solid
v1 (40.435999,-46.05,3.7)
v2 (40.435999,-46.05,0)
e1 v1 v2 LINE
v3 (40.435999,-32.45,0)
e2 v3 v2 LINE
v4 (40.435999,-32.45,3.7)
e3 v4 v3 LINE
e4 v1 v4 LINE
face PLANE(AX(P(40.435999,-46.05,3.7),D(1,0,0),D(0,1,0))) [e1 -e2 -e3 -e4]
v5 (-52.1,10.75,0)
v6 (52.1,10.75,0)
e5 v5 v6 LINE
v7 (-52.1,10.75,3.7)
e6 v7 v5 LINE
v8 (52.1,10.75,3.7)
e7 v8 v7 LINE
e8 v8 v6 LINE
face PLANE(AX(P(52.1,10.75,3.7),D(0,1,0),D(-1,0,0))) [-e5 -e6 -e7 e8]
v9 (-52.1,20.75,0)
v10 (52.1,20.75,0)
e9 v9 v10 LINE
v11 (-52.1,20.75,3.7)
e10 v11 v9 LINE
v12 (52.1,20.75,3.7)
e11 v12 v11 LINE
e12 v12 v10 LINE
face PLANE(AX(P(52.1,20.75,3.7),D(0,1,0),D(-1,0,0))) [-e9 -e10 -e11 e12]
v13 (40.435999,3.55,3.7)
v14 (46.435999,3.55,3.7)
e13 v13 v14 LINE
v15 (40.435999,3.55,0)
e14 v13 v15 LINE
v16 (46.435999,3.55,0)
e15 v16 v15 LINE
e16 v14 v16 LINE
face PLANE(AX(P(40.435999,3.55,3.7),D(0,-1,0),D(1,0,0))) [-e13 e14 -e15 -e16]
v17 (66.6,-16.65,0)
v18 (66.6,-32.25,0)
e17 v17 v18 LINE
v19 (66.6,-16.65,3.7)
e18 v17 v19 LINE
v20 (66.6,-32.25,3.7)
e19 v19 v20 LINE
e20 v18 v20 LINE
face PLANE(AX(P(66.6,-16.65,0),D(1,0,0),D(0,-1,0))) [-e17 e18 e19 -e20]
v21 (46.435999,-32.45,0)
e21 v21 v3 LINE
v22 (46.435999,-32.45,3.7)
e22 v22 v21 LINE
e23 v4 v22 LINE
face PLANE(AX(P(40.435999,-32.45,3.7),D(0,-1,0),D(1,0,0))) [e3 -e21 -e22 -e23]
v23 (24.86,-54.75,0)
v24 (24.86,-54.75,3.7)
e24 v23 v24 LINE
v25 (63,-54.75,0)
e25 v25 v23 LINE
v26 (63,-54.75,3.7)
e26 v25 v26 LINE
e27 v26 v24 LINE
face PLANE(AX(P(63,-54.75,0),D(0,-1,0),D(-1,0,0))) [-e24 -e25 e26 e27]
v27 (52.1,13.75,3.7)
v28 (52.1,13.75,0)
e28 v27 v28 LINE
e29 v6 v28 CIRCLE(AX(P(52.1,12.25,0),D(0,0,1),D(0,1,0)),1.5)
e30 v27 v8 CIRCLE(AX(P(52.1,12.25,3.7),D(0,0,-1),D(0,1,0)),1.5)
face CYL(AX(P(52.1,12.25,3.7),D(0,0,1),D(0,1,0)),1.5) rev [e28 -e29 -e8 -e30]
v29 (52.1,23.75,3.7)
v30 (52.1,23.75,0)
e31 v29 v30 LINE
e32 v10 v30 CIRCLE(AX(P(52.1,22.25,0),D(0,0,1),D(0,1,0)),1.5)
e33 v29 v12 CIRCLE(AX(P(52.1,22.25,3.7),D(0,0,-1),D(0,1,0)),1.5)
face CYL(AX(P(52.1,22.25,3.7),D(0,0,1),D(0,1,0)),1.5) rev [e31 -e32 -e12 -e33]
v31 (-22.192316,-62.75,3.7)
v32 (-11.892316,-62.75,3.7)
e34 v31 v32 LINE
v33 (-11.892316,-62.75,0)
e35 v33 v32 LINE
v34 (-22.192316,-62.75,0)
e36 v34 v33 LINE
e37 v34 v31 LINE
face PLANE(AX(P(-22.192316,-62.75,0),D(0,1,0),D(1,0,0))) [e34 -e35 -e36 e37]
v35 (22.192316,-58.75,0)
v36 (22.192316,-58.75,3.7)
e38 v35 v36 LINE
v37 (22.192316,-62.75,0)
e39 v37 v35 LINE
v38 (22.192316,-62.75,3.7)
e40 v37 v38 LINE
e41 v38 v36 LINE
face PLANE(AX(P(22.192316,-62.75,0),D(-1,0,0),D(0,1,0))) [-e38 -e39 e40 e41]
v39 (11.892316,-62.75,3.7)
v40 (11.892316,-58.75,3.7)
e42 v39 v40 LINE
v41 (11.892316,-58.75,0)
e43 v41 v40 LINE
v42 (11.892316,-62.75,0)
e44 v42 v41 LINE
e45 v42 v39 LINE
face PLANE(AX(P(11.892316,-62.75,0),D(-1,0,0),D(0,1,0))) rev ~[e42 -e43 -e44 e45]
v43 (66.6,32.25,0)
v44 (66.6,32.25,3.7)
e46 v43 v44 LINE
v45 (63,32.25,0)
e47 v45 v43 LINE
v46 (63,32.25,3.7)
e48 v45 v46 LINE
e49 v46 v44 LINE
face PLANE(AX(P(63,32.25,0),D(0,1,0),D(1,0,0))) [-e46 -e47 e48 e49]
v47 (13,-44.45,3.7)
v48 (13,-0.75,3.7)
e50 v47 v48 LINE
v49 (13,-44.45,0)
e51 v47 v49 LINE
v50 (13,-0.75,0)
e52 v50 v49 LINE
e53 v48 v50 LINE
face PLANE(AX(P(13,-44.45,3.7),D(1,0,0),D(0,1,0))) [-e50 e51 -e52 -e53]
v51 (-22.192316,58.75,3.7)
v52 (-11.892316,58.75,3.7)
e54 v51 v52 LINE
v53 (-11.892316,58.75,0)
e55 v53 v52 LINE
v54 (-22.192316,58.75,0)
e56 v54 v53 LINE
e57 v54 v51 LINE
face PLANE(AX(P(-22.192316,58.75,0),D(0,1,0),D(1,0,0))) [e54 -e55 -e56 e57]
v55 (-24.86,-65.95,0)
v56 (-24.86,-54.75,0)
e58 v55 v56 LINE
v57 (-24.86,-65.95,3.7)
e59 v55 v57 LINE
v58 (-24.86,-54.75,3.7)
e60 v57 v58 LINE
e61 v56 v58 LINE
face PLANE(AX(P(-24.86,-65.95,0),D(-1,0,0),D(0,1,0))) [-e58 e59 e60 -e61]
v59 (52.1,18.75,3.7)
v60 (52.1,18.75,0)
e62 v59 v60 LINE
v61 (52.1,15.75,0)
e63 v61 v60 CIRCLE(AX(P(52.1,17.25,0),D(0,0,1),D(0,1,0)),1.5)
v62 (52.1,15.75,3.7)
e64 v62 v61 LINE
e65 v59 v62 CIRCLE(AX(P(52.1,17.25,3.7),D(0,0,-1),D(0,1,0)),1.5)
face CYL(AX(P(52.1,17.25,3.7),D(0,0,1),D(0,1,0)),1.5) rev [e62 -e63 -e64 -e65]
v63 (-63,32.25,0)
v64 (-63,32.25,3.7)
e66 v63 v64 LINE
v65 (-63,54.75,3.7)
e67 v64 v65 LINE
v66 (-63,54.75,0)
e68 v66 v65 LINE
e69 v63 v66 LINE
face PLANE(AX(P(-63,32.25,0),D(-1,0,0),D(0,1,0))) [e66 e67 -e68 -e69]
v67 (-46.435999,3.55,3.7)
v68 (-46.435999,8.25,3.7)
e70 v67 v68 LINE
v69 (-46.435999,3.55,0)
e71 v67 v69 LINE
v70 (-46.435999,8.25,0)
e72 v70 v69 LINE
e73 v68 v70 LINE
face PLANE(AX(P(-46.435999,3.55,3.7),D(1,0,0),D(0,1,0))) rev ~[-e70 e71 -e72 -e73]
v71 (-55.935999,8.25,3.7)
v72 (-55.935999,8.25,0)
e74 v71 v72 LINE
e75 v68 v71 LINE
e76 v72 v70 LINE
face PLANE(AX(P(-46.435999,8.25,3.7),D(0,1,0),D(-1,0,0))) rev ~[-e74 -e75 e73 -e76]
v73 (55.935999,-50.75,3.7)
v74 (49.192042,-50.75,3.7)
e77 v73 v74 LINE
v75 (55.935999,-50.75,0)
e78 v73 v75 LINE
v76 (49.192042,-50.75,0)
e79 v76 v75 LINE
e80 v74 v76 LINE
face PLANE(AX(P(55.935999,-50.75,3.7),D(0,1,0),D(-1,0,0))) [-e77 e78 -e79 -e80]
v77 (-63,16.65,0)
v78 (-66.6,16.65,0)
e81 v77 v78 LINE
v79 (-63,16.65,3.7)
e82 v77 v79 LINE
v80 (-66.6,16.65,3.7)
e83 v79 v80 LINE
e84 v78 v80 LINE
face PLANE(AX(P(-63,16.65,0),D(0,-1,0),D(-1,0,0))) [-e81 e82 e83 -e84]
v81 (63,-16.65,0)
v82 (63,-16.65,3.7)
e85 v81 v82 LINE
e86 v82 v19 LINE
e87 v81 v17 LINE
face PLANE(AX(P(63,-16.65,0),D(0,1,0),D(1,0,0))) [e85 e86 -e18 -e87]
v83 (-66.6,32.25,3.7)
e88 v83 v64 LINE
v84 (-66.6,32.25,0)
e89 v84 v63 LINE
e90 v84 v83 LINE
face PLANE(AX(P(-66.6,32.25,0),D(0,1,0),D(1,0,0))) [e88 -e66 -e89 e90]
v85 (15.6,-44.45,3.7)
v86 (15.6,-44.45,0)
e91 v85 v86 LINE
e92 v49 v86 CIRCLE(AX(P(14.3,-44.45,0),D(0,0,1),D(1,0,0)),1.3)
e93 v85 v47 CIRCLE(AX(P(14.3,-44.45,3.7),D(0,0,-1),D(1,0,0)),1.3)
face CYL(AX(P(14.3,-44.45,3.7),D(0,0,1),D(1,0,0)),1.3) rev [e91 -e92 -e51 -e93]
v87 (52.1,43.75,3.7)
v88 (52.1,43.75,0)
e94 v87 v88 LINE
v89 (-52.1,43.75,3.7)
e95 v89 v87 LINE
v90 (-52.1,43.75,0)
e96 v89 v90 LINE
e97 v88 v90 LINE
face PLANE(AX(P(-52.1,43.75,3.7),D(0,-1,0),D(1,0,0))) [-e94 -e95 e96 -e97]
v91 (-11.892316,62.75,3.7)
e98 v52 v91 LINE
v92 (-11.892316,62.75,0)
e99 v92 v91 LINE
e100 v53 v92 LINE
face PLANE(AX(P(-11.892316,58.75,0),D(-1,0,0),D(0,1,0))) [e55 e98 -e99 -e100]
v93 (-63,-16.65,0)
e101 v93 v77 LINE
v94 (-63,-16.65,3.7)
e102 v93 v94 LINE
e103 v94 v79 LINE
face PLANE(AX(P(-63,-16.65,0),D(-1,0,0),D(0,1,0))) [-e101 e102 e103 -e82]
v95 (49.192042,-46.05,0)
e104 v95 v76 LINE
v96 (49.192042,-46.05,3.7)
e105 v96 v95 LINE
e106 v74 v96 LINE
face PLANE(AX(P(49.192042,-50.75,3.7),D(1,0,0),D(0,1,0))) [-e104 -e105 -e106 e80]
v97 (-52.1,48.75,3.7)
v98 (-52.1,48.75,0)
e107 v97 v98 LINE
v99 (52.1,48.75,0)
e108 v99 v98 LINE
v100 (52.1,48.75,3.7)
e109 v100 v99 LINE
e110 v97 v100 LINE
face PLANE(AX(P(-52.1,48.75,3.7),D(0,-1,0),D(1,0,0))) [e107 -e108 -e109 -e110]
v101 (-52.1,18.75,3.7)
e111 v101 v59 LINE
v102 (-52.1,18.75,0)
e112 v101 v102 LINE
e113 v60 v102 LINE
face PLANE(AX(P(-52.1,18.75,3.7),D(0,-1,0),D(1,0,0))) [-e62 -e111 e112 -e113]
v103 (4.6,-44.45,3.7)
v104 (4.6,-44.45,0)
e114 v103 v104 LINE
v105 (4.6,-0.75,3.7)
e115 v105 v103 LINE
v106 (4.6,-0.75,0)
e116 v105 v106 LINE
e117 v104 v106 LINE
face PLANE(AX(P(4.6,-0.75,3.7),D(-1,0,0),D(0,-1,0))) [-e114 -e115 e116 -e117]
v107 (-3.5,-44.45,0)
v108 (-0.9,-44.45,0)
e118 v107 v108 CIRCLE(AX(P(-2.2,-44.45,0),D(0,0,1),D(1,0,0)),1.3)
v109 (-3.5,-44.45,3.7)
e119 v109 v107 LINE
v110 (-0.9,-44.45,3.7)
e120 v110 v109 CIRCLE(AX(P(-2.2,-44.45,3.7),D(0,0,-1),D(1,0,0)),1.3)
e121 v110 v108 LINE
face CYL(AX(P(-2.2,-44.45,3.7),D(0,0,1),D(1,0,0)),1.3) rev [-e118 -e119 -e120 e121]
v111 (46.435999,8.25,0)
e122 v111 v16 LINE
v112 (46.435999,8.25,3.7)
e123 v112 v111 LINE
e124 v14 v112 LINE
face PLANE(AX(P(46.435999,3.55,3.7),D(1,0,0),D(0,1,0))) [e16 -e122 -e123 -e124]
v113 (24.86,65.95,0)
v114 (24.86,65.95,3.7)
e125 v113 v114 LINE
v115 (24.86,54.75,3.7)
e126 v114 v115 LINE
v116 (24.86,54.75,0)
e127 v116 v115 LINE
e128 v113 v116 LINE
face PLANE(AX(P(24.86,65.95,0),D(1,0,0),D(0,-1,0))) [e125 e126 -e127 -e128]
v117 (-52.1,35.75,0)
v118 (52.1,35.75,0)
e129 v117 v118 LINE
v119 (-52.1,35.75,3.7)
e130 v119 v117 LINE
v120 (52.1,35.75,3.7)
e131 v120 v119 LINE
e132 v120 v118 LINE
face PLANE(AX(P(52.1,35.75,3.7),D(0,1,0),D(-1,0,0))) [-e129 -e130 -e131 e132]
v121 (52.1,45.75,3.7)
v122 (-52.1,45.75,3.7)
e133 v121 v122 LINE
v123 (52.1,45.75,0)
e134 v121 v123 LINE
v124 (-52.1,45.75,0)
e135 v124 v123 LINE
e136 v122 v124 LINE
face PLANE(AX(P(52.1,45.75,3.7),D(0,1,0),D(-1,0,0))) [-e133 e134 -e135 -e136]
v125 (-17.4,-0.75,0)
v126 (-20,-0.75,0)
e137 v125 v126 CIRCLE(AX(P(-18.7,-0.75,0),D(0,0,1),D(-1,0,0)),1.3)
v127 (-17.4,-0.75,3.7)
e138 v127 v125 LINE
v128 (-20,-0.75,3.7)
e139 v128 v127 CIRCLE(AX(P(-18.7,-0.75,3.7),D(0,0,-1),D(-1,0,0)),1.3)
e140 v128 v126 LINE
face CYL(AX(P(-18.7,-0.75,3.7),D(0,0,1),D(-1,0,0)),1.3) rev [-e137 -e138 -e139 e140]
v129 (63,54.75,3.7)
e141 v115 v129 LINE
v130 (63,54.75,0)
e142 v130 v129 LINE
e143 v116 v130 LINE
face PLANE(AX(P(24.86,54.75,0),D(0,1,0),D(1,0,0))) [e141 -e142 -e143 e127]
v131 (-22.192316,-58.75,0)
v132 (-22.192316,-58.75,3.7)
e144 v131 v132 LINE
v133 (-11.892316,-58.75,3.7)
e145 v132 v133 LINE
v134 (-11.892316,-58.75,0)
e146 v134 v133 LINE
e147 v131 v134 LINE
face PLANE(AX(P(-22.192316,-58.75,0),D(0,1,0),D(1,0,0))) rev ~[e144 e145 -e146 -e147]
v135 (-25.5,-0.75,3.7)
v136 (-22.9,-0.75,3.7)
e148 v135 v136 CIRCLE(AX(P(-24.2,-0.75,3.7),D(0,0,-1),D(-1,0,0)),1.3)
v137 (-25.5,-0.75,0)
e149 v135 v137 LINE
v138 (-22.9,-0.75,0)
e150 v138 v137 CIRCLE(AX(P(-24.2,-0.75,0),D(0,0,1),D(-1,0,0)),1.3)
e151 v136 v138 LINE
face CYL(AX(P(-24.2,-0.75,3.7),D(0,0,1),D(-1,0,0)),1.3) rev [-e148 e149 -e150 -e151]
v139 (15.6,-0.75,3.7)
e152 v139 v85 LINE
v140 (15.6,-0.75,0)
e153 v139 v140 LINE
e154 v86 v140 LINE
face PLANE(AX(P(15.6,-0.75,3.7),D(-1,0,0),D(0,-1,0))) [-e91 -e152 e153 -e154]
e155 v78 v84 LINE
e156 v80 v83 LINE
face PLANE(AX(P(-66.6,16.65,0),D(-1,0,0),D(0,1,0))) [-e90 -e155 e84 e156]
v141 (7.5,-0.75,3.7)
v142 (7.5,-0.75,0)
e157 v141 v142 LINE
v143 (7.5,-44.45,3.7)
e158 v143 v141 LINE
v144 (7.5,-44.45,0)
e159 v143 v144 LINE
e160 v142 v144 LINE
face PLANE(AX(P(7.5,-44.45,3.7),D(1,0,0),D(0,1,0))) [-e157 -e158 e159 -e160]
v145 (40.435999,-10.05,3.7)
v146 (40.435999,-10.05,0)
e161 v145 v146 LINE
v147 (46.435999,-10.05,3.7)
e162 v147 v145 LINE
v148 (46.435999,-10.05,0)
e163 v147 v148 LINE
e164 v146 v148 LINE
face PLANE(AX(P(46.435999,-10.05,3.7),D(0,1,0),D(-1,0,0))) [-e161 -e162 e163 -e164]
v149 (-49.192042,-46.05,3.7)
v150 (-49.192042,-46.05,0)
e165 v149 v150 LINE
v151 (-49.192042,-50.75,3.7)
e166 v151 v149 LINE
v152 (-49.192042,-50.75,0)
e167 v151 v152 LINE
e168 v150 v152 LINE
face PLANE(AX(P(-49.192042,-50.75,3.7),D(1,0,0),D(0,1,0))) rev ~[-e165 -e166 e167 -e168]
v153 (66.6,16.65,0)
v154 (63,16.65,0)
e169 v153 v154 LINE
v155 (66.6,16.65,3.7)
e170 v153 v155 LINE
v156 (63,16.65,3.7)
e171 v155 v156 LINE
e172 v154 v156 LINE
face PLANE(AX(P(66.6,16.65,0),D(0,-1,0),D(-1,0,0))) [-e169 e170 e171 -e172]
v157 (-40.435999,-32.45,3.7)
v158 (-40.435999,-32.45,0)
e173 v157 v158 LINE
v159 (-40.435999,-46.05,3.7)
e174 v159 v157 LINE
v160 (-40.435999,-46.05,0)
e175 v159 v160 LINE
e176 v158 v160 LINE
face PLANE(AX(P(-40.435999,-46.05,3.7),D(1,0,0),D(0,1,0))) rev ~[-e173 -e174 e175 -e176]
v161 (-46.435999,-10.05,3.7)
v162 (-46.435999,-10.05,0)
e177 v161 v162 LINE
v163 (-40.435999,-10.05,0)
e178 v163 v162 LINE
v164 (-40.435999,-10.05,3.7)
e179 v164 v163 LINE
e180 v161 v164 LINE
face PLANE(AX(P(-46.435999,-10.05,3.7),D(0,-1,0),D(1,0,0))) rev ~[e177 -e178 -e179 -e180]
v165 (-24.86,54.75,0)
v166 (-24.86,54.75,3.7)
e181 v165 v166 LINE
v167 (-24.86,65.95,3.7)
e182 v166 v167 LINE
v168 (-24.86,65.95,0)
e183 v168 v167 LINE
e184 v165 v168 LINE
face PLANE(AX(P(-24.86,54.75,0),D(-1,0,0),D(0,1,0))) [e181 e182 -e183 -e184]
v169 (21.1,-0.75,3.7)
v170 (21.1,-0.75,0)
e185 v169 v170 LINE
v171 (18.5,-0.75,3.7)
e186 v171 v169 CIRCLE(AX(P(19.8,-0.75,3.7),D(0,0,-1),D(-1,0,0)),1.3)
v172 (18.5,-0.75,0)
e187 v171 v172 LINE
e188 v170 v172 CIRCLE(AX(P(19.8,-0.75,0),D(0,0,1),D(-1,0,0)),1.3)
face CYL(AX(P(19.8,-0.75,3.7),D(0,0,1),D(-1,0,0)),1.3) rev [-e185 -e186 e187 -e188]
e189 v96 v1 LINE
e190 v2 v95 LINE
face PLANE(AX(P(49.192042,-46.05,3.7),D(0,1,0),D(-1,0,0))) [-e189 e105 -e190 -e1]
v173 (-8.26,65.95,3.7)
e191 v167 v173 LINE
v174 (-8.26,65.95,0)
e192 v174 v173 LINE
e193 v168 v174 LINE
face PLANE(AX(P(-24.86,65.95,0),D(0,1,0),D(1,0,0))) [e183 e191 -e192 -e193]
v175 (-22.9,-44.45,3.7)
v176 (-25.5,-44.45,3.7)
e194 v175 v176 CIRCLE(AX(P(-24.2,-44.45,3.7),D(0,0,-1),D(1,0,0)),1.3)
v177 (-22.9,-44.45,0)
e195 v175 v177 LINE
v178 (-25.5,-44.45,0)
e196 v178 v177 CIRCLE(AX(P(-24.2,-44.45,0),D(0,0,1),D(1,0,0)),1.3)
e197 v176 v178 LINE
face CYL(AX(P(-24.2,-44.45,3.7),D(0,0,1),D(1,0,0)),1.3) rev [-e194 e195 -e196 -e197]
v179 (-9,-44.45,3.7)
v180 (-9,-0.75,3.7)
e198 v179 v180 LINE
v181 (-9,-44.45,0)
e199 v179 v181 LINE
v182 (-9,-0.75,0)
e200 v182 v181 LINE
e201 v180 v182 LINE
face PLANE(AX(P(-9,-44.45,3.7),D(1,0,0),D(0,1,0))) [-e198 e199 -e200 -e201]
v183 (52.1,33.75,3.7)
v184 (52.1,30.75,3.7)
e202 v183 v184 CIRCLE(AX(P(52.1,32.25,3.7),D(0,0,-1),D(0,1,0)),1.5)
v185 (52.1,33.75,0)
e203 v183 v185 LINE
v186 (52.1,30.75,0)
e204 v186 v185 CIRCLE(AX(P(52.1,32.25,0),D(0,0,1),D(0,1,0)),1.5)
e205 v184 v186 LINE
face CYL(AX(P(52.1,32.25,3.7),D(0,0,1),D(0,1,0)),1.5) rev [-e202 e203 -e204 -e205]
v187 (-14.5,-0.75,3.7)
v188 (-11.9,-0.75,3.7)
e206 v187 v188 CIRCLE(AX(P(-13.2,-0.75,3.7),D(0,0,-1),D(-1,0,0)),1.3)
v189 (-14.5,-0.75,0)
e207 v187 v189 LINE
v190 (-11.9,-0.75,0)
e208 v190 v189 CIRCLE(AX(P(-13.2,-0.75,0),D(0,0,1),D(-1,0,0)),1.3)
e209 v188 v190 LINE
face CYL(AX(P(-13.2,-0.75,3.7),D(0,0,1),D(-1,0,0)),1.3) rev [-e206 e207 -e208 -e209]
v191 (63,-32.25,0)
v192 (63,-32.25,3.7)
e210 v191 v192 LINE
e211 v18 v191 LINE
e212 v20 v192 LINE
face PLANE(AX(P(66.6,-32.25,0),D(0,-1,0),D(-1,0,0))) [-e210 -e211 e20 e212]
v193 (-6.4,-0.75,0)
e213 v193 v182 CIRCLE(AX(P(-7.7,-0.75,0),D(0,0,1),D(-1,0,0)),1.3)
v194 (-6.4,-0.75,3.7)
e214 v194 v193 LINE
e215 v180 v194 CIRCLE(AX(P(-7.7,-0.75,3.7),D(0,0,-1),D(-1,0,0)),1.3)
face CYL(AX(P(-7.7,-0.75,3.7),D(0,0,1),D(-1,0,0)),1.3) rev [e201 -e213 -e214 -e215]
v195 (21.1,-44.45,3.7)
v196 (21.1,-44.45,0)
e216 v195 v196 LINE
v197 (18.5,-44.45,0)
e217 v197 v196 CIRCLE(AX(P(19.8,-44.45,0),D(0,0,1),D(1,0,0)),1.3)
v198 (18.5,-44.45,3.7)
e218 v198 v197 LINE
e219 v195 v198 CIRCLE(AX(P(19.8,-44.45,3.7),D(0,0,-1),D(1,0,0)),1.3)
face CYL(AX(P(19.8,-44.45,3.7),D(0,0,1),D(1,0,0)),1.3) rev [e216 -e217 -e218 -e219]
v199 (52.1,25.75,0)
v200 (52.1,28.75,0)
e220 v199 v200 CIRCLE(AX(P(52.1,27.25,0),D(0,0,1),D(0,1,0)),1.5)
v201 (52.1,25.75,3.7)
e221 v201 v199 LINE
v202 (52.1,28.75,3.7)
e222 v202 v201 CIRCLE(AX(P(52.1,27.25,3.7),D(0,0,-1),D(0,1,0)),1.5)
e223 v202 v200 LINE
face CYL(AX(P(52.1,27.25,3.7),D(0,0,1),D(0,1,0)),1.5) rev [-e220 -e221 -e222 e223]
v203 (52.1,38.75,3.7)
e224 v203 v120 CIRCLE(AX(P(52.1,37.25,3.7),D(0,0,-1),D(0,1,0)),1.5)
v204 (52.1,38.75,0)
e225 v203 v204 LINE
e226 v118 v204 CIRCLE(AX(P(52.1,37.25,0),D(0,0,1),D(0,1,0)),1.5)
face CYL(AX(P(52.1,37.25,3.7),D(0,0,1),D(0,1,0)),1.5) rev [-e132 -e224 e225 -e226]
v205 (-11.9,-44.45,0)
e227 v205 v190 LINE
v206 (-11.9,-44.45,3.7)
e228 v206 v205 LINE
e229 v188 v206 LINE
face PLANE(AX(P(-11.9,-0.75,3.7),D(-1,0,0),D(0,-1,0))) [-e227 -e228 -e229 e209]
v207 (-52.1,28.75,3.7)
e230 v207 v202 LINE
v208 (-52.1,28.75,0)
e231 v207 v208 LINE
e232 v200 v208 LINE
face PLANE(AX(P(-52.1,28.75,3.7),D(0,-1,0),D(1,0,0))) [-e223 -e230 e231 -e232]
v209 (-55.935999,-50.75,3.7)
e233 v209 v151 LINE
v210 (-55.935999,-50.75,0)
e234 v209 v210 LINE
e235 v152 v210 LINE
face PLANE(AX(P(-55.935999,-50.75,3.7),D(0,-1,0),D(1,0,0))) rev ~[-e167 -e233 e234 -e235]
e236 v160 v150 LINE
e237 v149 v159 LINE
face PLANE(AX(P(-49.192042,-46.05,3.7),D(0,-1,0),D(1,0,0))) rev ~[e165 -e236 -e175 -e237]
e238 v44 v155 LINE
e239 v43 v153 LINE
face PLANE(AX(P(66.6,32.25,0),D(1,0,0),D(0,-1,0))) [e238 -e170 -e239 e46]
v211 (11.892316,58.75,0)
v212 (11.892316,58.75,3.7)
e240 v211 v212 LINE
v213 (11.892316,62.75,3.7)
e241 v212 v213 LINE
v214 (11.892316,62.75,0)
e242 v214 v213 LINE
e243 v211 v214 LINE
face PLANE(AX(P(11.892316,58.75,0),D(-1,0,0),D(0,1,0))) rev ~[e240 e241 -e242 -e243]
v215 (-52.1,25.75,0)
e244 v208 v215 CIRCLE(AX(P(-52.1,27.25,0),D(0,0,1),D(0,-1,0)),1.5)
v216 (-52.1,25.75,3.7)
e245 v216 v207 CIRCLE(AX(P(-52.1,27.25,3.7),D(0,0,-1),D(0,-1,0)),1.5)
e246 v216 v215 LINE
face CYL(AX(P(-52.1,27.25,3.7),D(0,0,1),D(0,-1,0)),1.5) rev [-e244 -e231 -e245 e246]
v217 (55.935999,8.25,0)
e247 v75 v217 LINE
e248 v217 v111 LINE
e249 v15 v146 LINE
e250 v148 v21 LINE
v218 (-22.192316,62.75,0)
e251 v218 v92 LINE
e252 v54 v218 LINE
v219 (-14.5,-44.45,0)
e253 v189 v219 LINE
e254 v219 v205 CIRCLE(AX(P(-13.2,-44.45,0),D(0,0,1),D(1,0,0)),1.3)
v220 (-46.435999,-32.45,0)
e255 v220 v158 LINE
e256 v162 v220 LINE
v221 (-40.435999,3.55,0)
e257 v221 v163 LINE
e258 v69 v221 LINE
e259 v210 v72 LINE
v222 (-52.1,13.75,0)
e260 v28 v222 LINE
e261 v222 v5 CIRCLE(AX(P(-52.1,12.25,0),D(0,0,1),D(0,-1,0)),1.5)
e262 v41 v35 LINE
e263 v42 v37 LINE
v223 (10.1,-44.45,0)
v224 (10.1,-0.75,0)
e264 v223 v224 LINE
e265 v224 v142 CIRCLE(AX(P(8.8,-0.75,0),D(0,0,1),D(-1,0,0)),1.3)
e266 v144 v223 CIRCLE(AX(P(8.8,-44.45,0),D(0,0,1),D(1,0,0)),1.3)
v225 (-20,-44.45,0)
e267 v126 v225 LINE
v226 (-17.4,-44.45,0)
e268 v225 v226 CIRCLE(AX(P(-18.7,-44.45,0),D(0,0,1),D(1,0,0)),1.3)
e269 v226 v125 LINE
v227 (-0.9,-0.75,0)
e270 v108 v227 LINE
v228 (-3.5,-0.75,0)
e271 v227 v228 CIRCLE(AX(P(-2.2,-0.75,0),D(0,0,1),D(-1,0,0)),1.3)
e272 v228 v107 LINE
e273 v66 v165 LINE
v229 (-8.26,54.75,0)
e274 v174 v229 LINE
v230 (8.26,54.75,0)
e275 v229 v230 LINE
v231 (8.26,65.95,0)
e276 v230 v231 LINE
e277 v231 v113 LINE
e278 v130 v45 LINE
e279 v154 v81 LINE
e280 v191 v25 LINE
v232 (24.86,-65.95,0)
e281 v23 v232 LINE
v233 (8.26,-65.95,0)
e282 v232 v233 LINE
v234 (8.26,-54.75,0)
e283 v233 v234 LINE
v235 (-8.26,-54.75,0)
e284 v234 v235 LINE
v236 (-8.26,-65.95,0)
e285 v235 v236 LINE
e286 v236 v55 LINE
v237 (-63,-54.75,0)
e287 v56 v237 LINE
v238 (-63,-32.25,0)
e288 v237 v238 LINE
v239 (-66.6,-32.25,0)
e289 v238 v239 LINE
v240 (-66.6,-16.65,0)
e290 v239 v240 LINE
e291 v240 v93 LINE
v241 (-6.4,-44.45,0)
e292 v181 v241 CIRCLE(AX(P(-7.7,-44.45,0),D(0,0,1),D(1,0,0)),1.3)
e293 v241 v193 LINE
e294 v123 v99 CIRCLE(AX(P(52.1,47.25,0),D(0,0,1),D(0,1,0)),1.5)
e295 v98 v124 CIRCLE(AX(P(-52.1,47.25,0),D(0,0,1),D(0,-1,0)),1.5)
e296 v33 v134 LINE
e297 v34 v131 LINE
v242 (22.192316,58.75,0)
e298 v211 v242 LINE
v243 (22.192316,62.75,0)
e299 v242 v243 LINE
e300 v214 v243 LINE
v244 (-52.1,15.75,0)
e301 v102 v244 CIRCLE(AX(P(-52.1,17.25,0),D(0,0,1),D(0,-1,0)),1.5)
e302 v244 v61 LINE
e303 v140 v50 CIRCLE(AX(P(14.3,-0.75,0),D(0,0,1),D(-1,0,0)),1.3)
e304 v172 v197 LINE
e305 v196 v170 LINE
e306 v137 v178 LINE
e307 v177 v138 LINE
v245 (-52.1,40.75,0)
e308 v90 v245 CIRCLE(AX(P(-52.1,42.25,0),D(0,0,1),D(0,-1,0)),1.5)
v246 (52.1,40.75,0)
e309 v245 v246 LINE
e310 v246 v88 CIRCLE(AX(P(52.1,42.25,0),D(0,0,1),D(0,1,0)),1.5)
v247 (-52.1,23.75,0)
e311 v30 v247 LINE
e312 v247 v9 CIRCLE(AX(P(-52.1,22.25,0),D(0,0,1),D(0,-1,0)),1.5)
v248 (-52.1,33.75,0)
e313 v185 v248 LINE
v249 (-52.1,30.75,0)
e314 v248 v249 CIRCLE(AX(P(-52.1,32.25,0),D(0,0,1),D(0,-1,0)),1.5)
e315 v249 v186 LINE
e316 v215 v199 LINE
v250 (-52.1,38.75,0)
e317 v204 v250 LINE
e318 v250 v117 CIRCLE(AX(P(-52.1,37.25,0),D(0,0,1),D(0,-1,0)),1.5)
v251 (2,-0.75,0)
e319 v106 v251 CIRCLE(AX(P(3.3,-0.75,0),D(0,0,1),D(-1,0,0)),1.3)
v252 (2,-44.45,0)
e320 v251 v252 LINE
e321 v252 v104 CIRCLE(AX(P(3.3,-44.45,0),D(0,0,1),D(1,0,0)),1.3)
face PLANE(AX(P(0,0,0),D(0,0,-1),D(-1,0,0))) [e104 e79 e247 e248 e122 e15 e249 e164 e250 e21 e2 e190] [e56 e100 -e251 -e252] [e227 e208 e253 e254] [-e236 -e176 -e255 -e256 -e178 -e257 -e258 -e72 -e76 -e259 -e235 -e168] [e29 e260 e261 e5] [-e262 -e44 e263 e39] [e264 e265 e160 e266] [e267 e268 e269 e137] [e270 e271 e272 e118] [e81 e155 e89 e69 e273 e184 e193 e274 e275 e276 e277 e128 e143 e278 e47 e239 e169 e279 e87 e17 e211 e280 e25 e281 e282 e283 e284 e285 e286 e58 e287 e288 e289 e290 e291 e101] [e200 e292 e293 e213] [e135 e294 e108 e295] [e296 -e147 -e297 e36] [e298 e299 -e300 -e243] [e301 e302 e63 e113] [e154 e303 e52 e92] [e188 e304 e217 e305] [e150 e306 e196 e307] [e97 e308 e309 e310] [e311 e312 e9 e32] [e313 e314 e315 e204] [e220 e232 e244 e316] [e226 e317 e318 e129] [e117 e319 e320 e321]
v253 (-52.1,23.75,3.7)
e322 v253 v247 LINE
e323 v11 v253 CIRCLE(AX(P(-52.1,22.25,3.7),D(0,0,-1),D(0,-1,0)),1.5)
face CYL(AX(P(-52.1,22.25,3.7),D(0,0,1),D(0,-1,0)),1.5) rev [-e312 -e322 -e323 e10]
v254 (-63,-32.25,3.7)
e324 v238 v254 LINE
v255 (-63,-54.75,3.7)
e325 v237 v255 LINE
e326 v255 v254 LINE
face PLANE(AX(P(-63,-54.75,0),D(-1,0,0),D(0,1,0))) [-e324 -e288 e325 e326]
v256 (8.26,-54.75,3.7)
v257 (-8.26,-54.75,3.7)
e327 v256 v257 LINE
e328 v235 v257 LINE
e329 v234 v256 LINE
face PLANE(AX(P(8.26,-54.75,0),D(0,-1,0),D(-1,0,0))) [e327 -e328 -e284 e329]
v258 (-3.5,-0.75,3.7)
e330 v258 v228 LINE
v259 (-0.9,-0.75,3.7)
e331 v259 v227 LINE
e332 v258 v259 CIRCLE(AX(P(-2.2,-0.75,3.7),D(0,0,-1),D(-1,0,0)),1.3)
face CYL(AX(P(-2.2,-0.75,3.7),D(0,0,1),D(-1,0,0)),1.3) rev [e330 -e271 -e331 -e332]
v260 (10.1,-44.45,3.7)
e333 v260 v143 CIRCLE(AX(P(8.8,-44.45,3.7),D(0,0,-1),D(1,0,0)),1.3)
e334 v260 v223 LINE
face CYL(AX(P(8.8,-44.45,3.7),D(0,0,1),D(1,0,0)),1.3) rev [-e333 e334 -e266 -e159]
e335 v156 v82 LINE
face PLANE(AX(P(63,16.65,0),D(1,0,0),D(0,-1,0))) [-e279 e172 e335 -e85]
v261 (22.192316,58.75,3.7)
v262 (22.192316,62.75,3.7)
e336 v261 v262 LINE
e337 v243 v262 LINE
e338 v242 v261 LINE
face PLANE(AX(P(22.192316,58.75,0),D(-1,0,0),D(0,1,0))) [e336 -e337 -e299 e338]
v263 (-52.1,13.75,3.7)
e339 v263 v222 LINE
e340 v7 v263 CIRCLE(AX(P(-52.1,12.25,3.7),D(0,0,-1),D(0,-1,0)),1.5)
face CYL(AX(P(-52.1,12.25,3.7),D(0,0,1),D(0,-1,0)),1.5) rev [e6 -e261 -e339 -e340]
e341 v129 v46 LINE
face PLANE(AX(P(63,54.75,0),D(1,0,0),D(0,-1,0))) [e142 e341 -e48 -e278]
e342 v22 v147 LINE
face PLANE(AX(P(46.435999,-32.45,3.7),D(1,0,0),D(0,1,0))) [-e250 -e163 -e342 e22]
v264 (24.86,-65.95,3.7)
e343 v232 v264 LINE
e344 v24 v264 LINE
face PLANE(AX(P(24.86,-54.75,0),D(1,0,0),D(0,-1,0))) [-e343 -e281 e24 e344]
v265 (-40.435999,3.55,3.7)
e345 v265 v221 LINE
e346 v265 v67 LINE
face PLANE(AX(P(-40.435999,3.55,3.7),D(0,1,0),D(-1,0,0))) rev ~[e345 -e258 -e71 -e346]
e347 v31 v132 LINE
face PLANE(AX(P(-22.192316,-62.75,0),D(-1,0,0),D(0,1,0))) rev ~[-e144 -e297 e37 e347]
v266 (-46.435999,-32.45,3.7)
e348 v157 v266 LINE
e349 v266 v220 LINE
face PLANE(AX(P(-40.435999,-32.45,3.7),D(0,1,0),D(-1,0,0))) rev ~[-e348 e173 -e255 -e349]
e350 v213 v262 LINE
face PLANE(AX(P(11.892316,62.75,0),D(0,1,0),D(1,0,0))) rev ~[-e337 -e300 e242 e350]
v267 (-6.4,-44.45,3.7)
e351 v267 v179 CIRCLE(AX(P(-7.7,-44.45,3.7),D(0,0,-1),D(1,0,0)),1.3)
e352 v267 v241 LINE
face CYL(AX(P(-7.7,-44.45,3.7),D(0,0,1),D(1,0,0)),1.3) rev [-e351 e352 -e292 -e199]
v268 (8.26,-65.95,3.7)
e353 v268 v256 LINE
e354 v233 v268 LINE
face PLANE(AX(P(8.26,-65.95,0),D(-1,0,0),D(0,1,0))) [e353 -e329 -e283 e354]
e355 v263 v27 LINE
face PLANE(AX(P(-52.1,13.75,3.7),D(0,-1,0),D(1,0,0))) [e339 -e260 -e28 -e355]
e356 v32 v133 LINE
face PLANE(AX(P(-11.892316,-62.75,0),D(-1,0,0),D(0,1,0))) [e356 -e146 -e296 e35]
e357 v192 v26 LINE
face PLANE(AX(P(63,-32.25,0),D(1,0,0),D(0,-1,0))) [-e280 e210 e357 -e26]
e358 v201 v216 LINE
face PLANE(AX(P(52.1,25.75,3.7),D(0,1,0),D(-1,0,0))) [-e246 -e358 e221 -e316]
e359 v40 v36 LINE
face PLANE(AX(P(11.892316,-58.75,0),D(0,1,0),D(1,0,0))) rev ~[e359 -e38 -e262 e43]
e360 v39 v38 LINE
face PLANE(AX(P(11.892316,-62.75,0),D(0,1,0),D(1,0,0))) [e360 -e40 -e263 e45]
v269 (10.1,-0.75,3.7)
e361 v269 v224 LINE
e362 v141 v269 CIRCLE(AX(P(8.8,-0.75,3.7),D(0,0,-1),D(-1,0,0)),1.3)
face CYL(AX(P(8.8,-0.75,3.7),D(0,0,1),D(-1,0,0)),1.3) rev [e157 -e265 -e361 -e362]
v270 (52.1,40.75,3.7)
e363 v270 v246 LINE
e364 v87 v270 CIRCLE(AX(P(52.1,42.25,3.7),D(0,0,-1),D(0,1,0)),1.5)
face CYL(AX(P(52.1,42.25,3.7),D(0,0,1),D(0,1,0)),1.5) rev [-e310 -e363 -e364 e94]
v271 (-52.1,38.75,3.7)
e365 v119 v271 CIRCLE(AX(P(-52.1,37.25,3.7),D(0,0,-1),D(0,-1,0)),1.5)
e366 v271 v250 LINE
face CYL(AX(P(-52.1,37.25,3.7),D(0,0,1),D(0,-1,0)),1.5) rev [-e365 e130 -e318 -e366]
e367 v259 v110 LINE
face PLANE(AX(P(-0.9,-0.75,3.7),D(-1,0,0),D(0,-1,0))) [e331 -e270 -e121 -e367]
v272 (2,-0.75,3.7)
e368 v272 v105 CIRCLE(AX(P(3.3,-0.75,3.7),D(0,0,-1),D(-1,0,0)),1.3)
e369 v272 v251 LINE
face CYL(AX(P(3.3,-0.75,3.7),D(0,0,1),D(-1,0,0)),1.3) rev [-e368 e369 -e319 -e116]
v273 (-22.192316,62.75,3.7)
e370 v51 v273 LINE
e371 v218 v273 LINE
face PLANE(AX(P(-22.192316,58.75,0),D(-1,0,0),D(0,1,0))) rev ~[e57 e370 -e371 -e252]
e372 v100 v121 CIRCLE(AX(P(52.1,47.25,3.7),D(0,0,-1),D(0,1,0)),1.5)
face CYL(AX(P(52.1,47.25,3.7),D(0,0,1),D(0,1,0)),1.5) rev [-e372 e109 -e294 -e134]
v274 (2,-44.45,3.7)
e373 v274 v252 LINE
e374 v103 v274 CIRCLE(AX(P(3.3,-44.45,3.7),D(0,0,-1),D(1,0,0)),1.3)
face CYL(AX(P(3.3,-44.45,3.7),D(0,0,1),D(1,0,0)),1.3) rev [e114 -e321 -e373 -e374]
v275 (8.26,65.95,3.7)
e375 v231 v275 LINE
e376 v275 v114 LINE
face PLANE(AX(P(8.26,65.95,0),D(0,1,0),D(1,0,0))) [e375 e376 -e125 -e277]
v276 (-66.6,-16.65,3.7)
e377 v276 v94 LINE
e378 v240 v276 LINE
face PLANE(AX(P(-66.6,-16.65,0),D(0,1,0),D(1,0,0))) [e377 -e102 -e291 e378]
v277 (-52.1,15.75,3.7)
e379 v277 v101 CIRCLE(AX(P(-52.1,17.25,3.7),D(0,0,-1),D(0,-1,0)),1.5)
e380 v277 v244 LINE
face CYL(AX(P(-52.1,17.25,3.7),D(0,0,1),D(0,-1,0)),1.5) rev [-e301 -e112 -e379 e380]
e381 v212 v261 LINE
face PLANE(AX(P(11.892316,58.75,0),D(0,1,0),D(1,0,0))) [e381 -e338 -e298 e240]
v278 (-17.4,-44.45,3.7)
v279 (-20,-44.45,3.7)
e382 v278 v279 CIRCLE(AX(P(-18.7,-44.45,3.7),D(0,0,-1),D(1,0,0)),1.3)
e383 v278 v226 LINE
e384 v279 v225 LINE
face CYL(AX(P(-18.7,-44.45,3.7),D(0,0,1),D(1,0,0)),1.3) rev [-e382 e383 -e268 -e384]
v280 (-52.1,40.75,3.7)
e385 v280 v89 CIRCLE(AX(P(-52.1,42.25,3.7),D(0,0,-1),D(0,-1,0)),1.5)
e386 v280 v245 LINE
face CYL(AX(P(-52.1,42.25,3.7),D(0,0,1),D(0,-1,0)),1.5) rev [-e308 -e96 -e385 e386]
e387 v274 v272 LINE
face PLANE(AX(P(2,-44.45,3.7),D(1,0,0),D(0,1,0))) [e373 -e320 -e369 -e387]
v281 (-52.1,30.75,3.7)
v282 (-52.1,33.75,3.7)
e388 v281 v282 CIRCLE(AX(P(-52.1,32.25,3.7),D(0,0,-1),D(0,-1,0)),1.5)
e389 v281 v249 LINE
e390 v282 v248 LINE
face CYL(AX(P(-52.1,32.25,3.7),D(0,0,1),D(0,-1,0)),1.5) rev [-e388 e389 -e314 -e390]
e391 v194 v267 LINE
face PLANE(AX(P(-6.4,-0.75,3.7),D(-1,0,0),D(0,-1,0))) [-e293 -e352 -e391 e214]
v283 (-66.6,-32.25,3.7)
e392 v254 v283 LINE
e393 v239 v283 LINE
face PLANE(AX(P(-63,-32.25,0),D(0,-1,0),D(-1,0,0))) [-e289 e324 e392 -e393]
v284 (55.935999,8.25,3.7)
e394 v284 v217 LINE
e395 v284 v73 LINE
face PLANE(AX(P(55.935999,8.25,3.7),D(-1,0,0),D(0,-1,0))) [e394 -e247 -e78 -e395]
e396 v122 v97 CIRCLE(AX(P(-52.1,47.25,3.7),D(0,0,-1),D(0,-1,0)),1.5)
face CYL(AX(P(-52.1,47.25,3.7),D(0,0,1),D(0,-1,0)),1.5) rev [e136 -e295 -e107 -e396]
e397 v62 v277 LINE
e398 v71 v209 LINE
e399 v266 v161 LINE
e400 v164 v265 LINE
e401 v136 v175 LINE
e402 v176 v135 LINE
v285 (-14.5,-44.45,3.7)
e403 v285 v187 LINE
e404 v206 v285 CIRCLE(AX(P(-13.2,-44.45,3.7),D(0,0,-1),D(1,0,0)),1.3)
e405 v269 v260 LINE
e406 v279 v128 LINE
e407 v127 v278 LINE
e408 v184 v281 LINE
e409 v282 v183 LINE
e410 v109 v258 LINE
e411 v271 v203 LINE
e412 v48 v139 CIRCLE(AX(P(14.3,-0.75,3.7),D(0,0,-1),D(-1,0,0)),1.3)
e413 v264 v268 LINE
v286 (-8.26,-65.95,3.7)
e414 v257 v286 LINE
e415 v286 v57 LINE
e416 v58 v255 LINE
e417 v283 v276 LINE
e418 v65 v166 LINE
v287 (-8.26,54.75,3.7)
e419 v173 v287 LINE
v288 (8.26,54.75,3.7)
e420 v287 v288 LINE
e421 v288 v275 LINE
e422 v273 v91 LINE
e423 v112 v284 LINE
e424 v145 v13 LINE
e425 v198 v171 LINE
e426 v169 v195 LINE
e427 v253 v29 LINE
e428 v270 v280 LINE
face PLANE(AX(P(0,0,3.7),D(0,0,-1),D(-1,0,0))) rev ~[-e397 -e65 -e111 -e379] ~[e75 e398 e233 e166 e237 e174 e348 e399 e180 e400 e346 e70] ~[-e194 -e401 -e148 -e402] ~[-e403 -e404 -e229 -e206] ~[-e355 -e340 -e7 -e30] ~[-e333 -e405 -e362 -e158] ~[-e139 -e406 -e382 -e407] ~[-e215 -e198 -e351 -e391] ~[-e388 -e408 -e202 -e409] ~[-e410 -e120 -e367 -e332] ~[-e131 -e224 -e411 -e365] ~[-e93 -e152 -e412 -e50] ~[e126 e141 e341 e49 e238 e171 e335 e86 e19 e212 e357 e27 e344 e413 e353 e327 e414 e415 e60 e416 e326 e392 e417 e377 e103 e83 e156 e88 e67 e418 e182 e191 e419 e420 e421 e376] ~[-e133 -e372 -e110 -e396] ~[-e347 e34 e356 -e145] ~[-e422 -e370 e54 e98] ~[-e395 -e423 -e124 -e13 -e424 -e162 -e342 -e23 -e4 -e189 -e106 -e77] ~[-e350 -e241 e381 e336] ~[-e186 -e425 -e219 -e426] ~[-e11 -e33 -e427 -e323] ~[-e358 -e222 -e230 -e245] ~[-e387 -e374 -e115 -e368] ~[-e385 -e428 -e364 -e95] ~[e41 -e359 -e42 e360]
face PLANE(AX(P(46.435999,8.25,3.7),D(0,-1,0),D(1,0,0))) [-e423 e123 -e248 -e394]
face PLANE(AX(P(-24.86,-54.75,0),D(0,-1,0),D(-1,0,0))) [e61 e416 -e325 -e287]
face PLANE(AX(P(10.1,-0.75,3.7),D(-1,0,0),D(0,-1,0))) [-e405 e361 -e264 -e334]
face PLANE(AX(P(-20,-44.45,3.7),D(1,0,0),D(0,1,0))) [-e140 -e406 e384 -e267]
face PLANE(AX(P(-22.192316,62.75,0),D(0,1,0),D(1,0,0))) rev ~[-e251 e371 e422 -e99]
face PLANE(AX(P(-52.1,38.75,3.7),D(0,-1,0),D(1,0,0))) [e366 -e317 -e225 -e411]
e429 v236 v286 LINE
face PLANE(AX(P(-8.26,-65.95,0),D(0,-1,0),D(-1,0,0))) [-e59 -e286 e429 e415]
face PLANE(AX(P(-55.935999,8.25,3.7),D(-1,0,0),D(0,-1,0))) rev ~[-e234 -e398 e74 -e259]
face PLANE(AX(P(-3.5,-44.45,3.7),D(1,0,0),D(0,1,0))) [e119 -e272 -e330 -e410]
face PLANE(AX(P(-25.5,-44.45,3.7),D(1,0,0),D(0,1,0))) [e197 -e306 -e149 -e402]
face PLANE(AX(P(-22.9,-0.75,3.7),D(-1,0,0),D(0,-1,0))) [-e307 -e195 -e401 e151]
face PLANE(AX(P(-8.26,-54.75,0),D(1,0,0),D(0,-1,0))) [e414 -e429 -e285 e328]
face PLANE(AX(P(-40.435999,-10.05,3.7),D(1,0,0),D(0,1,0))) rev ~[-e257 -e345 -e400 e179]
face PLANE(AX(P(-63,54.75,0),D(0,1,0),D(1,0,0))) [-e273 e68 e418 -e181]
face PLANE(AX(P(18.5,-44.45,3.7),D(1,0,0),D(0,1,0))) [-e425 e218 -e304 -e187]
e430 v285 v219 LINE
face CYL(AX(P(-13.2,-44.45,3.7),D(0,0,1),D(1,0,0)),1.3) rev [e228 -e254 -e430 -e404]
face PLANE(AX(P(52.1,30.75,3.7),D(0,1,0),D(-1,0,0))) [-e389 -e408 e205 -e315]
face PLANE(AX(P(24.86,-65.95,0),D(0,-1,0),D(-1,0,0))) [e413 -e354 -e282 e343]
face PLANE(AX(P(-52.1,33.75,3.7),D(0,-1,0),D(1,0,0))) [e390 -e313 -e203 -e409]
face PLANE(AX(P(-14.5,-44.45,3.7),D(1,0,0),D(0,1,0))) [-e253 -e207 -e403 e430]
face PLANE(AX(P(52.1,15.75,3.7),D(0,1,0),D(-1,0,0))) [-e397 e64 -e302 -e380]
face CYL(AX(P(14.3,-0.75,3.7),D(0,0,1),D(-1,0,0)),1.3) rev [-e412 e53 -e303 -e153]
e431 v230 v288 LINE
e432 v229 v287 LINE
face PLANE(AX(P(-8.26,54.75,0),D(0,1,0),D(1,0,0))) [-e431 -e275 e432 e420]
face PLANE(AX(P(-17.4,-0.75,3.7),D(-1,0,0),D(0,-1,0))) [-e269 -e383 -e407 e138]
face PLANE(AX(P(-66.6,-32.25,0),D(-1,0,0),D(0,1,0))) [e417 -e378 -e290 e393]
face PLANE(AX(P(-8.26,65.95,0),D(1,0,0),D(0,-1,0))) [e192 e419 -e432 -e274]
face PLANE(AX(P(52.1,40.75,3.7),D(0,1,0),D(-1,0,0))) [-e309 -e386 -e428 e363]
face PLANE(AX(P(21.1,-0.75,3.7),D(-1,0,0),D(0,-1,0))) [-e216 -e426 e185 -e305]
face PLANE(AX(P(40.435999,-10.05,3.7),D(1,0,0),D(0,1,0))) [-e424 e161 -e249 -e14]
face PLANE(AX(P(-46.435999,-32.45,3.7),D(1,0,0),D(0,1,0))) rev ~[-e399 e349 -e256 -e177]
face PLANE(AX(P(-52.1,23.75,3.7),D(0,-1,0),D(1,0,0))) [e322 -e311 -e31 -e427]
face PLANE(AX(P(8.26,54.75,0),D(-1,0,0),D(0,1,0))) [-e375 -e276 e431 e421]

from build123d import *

# Parameters (mm, degrees)
SKETCH1_W           = 10.3
SKETCH1_H           = 4
BOSS_EXTRUDE1_DEPTH = 3.7
CUT_EXTRUDE2_DEPTH  = 94.801132722
CUT_EXTRUDE3_DEPTH  = 94.801132722
CUT_EXTRUDE4_DEPTH  = 94.801132722


with BuildPart() as part:
    # Sketch1 → Boss-Extrude1 (new body)
    with BuildSketch(Plane.XY):
        Polygon((63, -54.75), (24.86, -54.75), (24.86, -65.95), (8.26, -65.95), (8.26, -54.75), (-8.26, -54.75), (-8.26, -65.95), (-24.86, -65.95), (-24.86, -54.75), (-63, -54.75), (-63, -32.25), (-66.6, -32.25), (-66.6, -16.65), (-63, -16.65), (-63, 16.65), (-66.6, 16.65), (-66.6, 32.25), (-63, 32.25), (-63, 54.75), (-24.86, 54.75), (-24.86, 65.95), (-8.26, 65.95), (-8.26, 54.75), (8.26, 54.75), (8.26, 65.95), (24.86, 65.95), (24.86, 54.75), (63, 54.75), (63, 32.25), (66.6, 32.25), (66.6, 16.65), (63, 16.65), (63, -16.65), (66.6, -16.65), (66.6, -32.25), (63, -32.25), align=None)
        with Locations((-17.042316358, 60.75)):
            Rectangle(SKETCH1_W, SKETCH1_H, mode=Mode.SUBTRACT)
        with Locations((17.042316358, 60.75)):
            Rectangle(SKETCH1_W, SKETCH1_H, mode=Mode.SUBTRACT)
        with Locations((17.042316358, -60.75)):
            Rectangle(SKETCH1_W, SKETCH1_H, mode=Mode.SUBTRACT)
        with Locations((-17.042316358, -60.75)):
            Rectangle(SKETCH1_W, SKETCH1_H, mode=Mode.SUBTRACT)
    extrude(amount=BOSS_EXTRUDE1_DEPTH)

    # Sketch2 → Cut-Extrude2 (cut, through all)
    with BuildSketch(Plane.XY.offset(3.7)):
        with BuildLine():
            Line((52.1, 45.75), (-52.1, 45.75))
            ThreePointArc((-52.1, 45.75), (-53.6, 47.25), (-52.1, 48.75))
            Line((-52.1, 48.75), (52.1, 48.75))
            ThreePointArc((52.1, 48.75), (53.6, 47.25), (52.1, 45.75))
        make_face()
    extrude(amount=-CUT_EXTRUDE2_DEPTH, mode=Mode.SUBTRACT)

    # Sketch2<3> → Cut-Extrude3 (cut, through all)
    with BuildSketch(Plane.XY.offset(3.7)):
        with BuildLine():
            Line((52.1, 45.75), (-52.1, 45.75))
            ThreePointArc((-52.1, 45.75), (-53.6, 47.25), (-52.1, 48.75))
            Line((-52.1, 48.75), (52.1, 48.75))
            ThreePointArc((52.1, 48.75), (53.6, 47.25), (52.1, 45.75))
        make_face()
        with BuildLine():
            Line((52.1, 40.75), (-52.1, 40.75))
            ThreePointArc((-52.1, 40.75), (-53.6, 42.25), (-52.1, 43.75))
            Line((-52.1, 43.75), (52.1, 43.75))
            ThreePointArc((52.1, 43.75), (53.6, 42.25), (52.1, 40.75))
        make_face()
        with BuildLine():
            Line((52.1, 35.75), (-52.1, 35.75))
            ThreePointArc((-52.1, 35.75), (-53.6, 37.25), (-52.1, 38.75))
            Line((-52.1, 38.75), (52.1, 38.75))
            ThreePointArc((52.1, 38.75), (53.6, 37.25), (52.1, 35.75))
        make_face()
        with BuildLine():
            Line((52.1, 30.75), (-52.1, 30.75))
            ThreePointArc((-52.1, 30.75), (-53.6, 32.25), (-52.1, 33.75))
            Line((-52.1, 33.75), (52.1, 33.75))
            ThreePointArc((52.1, 33.75), (53.6, 32.25), (52.1, 30.75))
        make_face()
        with BuildLine():
            Line((52.1, 25.75), (-52.1, 25.75))
            ThreePointArc((-52.1, 25.75), (-53.6, 27.25), (-52.1, 28.75))
            Line((-52.1, 28.75), (52.1, 28.75))
            ThreePointArc((52.1, 28.75), (53.6, 27.25), (52.1, 25.75))
        make_face()
        with BuildLine():
            Line((52.1, 20.75), (-52.1, 20.75))
            ThreePointArc((-52.1, 20.75), (-53.6, 22.25), (-52.1, 23.75))
            Line((-52.1, 23.75), (52.1, 23.75))
            ThreePointArc((52.1, 23.75), (53.6, 22.25), (52.1, 20.75))
        make_face()
        with BuildLine():
            Line((52.1, 15.75), (-52.1, 15.75))
            ThreePointArc((-52.1, 15.75), (-53.6, 17.25), (-52.1, 18.75))
            Line((-52.1, 18.75), (52.1, 18.75))
            ThreePointArc((52.1, 18.75), (53.6, 17.25), (52.1, 15.75))
        make_face()
        with BuildLine():
            Line((52.1, 10.75), (-52.1, 10.75))
            ThreePointArc((-52.1, 10.75), (-53.6, 12.25), (-52.1, 13.75))
            Line((-52.1, 13.75), (52.1, 13.75))
            ThreePointArc((52.1, 13.75), (53.6, 12.25), (52.1, 10.75))
        make_face()
        with BuildLine():
            Line((-25.5, -44.45), (-25.5, -0.75))
            ThreePointArc((-25.5, -0.75), (-24.2, 0.55), (-22.9, -0.75))
            Line((-22.9, -0.75), (-22.9, -44.45))
            ThreePointArc((-22.9, -44.45), (-24.2, -45.75), (-25.5, -44.45))
        make_face()
        with BuildLine():
            Line((-20, -44.45), (-20, -0.75))
            ThreePointArc((-20, -0.75), (-18.7, 0.55), (-17.4, -0.75))
            Line((-17.4, -0.75), (-17.4, -44.45))
            ThreePointArc((-17.4, -44.45), (-18.7, -45.75), (-20, -44.45))
        make_face()
        with BuildLine():
            Line((-14.5, -44.45), (-14.5, -0.75))
            ThreePointArc((-14.5, -0.75), (-13.2, 0.55), (-11.9, -0.75))
            Line((-11.9, -0.75), (-11.9, -44.45))
            ThreePointArc((-11.9, -44.45), (-13.2, -45.75), (-14.5, -44.45))
        make_face()
        with BuildLine():
            Line((-9, -44.45), (-9, -0.75))
            ThreePointArc((-9, -0.75), (-7.7, 0.55), (-6.4, -0.75))
            Line((-6.4, -0.75), (-6.4, -44.45))
            ThreePointArc((-6.4, -44.45), (-7.7, -45.75), (-9, -44.45))
        make_face()
        with BuildLine():
            Line((-3.5, -44.45), (-3.5, -0.75))
            ThreePointArc((-3.5, -0.75), (-2.2, 0.55), (-0.9, -0.75))
            Line((-0.9, -0.75), (-0.9, -44.45))
            ThreePointArc((-0.9, -44.45), (-2.2, -45.75), (-3.5, -44.45))
        make_face()
        with BuildLine():
            Line((2, -44.45), (2, -0.75))
            ThreePointArc((2, -0.75), (3.3, 0.55), (4.6, -0.75))
            Line((4.6, -0.75), (4.6, -44.45))
            ThreePointArc((4.6, -44.45), (3.3, -45.75), (2, -44.45))
        make_face()
        with BuildLine():
            Line((7.5, -44.45), (7.5, -0.75))
            ThreePointArc((7.5, -0.75), (8.8, 0.55), (10.1, -0.75))
            Line((10.1, -0.75), (10.1, -44.45))
            ThreePointArc((10.1, -44.45), (8.8, -45.75), (7.5, -44.45))
        make_face()
        with BuildLine():
            Line((13, -44.45), (13, -0.75))
            ThreePointArc((13, -0.75), (14.3, 0.55), (15.6, -0.75))
            Line((15.6, -0.75), (15.6, -44.45))
            ThreePointArc((15.6, -44.45), (14.3, -45.75), (13, -44.45))
        make_face()
        with BuildLine():
            Line((18.5, -44.45), (18.5, -0.75))
            ThreePointArc((18.5, -0.75), (19.8, 0.55), (21.1, -0.75))
            Line((21.1, -0.75), (21.1, -44.45))
            ThreePointArc((21.1, -44.45), (19.8, -45.75), (18.5, -44.45))
        make_face()
    extrude(amount=-CUT_EXTRUDE3_DEPTH, mode=Mode.SUBTRACT)

    # Sketch4 → Cut-Extrude4 (cut, through all)
    with BuildSketch(Plane.XY.offset(3.7)):
        Polygon((-55.935998942, 8.25), (-55.935998942, -50.75), (-49.192042483, -50.75), (-49.192042483, -46.05), (-40.435998942, -46.05), (-40.435998942, -32.45), (-46.435998942, -32.45), (-46.435998942, -10.05), (-40.435998942, -10.05), (-40.435998942, 3.55), (-46.435998942, 3.55), (-46.435998942, 8.25), align=None)
        Polygon((46.435998942, 3.55), (46.435998942, 8.25), (55.935998942, 8.25), (55.935998942, -50.75), (49.192042483, -50.75), (49.192042483, -46.05), (40.435998942, -46.05), (40.435998942, -32.45), (46.435998942, -32.45), (46.435998942, -10.05), (40.435998942, -10.05), (40.435998942, 3.55), align=None)
    extrude(amount=-CUT_EXTRUDE4_DEPTH, mode=Mode.SUBTRACT)


solid = part.part
